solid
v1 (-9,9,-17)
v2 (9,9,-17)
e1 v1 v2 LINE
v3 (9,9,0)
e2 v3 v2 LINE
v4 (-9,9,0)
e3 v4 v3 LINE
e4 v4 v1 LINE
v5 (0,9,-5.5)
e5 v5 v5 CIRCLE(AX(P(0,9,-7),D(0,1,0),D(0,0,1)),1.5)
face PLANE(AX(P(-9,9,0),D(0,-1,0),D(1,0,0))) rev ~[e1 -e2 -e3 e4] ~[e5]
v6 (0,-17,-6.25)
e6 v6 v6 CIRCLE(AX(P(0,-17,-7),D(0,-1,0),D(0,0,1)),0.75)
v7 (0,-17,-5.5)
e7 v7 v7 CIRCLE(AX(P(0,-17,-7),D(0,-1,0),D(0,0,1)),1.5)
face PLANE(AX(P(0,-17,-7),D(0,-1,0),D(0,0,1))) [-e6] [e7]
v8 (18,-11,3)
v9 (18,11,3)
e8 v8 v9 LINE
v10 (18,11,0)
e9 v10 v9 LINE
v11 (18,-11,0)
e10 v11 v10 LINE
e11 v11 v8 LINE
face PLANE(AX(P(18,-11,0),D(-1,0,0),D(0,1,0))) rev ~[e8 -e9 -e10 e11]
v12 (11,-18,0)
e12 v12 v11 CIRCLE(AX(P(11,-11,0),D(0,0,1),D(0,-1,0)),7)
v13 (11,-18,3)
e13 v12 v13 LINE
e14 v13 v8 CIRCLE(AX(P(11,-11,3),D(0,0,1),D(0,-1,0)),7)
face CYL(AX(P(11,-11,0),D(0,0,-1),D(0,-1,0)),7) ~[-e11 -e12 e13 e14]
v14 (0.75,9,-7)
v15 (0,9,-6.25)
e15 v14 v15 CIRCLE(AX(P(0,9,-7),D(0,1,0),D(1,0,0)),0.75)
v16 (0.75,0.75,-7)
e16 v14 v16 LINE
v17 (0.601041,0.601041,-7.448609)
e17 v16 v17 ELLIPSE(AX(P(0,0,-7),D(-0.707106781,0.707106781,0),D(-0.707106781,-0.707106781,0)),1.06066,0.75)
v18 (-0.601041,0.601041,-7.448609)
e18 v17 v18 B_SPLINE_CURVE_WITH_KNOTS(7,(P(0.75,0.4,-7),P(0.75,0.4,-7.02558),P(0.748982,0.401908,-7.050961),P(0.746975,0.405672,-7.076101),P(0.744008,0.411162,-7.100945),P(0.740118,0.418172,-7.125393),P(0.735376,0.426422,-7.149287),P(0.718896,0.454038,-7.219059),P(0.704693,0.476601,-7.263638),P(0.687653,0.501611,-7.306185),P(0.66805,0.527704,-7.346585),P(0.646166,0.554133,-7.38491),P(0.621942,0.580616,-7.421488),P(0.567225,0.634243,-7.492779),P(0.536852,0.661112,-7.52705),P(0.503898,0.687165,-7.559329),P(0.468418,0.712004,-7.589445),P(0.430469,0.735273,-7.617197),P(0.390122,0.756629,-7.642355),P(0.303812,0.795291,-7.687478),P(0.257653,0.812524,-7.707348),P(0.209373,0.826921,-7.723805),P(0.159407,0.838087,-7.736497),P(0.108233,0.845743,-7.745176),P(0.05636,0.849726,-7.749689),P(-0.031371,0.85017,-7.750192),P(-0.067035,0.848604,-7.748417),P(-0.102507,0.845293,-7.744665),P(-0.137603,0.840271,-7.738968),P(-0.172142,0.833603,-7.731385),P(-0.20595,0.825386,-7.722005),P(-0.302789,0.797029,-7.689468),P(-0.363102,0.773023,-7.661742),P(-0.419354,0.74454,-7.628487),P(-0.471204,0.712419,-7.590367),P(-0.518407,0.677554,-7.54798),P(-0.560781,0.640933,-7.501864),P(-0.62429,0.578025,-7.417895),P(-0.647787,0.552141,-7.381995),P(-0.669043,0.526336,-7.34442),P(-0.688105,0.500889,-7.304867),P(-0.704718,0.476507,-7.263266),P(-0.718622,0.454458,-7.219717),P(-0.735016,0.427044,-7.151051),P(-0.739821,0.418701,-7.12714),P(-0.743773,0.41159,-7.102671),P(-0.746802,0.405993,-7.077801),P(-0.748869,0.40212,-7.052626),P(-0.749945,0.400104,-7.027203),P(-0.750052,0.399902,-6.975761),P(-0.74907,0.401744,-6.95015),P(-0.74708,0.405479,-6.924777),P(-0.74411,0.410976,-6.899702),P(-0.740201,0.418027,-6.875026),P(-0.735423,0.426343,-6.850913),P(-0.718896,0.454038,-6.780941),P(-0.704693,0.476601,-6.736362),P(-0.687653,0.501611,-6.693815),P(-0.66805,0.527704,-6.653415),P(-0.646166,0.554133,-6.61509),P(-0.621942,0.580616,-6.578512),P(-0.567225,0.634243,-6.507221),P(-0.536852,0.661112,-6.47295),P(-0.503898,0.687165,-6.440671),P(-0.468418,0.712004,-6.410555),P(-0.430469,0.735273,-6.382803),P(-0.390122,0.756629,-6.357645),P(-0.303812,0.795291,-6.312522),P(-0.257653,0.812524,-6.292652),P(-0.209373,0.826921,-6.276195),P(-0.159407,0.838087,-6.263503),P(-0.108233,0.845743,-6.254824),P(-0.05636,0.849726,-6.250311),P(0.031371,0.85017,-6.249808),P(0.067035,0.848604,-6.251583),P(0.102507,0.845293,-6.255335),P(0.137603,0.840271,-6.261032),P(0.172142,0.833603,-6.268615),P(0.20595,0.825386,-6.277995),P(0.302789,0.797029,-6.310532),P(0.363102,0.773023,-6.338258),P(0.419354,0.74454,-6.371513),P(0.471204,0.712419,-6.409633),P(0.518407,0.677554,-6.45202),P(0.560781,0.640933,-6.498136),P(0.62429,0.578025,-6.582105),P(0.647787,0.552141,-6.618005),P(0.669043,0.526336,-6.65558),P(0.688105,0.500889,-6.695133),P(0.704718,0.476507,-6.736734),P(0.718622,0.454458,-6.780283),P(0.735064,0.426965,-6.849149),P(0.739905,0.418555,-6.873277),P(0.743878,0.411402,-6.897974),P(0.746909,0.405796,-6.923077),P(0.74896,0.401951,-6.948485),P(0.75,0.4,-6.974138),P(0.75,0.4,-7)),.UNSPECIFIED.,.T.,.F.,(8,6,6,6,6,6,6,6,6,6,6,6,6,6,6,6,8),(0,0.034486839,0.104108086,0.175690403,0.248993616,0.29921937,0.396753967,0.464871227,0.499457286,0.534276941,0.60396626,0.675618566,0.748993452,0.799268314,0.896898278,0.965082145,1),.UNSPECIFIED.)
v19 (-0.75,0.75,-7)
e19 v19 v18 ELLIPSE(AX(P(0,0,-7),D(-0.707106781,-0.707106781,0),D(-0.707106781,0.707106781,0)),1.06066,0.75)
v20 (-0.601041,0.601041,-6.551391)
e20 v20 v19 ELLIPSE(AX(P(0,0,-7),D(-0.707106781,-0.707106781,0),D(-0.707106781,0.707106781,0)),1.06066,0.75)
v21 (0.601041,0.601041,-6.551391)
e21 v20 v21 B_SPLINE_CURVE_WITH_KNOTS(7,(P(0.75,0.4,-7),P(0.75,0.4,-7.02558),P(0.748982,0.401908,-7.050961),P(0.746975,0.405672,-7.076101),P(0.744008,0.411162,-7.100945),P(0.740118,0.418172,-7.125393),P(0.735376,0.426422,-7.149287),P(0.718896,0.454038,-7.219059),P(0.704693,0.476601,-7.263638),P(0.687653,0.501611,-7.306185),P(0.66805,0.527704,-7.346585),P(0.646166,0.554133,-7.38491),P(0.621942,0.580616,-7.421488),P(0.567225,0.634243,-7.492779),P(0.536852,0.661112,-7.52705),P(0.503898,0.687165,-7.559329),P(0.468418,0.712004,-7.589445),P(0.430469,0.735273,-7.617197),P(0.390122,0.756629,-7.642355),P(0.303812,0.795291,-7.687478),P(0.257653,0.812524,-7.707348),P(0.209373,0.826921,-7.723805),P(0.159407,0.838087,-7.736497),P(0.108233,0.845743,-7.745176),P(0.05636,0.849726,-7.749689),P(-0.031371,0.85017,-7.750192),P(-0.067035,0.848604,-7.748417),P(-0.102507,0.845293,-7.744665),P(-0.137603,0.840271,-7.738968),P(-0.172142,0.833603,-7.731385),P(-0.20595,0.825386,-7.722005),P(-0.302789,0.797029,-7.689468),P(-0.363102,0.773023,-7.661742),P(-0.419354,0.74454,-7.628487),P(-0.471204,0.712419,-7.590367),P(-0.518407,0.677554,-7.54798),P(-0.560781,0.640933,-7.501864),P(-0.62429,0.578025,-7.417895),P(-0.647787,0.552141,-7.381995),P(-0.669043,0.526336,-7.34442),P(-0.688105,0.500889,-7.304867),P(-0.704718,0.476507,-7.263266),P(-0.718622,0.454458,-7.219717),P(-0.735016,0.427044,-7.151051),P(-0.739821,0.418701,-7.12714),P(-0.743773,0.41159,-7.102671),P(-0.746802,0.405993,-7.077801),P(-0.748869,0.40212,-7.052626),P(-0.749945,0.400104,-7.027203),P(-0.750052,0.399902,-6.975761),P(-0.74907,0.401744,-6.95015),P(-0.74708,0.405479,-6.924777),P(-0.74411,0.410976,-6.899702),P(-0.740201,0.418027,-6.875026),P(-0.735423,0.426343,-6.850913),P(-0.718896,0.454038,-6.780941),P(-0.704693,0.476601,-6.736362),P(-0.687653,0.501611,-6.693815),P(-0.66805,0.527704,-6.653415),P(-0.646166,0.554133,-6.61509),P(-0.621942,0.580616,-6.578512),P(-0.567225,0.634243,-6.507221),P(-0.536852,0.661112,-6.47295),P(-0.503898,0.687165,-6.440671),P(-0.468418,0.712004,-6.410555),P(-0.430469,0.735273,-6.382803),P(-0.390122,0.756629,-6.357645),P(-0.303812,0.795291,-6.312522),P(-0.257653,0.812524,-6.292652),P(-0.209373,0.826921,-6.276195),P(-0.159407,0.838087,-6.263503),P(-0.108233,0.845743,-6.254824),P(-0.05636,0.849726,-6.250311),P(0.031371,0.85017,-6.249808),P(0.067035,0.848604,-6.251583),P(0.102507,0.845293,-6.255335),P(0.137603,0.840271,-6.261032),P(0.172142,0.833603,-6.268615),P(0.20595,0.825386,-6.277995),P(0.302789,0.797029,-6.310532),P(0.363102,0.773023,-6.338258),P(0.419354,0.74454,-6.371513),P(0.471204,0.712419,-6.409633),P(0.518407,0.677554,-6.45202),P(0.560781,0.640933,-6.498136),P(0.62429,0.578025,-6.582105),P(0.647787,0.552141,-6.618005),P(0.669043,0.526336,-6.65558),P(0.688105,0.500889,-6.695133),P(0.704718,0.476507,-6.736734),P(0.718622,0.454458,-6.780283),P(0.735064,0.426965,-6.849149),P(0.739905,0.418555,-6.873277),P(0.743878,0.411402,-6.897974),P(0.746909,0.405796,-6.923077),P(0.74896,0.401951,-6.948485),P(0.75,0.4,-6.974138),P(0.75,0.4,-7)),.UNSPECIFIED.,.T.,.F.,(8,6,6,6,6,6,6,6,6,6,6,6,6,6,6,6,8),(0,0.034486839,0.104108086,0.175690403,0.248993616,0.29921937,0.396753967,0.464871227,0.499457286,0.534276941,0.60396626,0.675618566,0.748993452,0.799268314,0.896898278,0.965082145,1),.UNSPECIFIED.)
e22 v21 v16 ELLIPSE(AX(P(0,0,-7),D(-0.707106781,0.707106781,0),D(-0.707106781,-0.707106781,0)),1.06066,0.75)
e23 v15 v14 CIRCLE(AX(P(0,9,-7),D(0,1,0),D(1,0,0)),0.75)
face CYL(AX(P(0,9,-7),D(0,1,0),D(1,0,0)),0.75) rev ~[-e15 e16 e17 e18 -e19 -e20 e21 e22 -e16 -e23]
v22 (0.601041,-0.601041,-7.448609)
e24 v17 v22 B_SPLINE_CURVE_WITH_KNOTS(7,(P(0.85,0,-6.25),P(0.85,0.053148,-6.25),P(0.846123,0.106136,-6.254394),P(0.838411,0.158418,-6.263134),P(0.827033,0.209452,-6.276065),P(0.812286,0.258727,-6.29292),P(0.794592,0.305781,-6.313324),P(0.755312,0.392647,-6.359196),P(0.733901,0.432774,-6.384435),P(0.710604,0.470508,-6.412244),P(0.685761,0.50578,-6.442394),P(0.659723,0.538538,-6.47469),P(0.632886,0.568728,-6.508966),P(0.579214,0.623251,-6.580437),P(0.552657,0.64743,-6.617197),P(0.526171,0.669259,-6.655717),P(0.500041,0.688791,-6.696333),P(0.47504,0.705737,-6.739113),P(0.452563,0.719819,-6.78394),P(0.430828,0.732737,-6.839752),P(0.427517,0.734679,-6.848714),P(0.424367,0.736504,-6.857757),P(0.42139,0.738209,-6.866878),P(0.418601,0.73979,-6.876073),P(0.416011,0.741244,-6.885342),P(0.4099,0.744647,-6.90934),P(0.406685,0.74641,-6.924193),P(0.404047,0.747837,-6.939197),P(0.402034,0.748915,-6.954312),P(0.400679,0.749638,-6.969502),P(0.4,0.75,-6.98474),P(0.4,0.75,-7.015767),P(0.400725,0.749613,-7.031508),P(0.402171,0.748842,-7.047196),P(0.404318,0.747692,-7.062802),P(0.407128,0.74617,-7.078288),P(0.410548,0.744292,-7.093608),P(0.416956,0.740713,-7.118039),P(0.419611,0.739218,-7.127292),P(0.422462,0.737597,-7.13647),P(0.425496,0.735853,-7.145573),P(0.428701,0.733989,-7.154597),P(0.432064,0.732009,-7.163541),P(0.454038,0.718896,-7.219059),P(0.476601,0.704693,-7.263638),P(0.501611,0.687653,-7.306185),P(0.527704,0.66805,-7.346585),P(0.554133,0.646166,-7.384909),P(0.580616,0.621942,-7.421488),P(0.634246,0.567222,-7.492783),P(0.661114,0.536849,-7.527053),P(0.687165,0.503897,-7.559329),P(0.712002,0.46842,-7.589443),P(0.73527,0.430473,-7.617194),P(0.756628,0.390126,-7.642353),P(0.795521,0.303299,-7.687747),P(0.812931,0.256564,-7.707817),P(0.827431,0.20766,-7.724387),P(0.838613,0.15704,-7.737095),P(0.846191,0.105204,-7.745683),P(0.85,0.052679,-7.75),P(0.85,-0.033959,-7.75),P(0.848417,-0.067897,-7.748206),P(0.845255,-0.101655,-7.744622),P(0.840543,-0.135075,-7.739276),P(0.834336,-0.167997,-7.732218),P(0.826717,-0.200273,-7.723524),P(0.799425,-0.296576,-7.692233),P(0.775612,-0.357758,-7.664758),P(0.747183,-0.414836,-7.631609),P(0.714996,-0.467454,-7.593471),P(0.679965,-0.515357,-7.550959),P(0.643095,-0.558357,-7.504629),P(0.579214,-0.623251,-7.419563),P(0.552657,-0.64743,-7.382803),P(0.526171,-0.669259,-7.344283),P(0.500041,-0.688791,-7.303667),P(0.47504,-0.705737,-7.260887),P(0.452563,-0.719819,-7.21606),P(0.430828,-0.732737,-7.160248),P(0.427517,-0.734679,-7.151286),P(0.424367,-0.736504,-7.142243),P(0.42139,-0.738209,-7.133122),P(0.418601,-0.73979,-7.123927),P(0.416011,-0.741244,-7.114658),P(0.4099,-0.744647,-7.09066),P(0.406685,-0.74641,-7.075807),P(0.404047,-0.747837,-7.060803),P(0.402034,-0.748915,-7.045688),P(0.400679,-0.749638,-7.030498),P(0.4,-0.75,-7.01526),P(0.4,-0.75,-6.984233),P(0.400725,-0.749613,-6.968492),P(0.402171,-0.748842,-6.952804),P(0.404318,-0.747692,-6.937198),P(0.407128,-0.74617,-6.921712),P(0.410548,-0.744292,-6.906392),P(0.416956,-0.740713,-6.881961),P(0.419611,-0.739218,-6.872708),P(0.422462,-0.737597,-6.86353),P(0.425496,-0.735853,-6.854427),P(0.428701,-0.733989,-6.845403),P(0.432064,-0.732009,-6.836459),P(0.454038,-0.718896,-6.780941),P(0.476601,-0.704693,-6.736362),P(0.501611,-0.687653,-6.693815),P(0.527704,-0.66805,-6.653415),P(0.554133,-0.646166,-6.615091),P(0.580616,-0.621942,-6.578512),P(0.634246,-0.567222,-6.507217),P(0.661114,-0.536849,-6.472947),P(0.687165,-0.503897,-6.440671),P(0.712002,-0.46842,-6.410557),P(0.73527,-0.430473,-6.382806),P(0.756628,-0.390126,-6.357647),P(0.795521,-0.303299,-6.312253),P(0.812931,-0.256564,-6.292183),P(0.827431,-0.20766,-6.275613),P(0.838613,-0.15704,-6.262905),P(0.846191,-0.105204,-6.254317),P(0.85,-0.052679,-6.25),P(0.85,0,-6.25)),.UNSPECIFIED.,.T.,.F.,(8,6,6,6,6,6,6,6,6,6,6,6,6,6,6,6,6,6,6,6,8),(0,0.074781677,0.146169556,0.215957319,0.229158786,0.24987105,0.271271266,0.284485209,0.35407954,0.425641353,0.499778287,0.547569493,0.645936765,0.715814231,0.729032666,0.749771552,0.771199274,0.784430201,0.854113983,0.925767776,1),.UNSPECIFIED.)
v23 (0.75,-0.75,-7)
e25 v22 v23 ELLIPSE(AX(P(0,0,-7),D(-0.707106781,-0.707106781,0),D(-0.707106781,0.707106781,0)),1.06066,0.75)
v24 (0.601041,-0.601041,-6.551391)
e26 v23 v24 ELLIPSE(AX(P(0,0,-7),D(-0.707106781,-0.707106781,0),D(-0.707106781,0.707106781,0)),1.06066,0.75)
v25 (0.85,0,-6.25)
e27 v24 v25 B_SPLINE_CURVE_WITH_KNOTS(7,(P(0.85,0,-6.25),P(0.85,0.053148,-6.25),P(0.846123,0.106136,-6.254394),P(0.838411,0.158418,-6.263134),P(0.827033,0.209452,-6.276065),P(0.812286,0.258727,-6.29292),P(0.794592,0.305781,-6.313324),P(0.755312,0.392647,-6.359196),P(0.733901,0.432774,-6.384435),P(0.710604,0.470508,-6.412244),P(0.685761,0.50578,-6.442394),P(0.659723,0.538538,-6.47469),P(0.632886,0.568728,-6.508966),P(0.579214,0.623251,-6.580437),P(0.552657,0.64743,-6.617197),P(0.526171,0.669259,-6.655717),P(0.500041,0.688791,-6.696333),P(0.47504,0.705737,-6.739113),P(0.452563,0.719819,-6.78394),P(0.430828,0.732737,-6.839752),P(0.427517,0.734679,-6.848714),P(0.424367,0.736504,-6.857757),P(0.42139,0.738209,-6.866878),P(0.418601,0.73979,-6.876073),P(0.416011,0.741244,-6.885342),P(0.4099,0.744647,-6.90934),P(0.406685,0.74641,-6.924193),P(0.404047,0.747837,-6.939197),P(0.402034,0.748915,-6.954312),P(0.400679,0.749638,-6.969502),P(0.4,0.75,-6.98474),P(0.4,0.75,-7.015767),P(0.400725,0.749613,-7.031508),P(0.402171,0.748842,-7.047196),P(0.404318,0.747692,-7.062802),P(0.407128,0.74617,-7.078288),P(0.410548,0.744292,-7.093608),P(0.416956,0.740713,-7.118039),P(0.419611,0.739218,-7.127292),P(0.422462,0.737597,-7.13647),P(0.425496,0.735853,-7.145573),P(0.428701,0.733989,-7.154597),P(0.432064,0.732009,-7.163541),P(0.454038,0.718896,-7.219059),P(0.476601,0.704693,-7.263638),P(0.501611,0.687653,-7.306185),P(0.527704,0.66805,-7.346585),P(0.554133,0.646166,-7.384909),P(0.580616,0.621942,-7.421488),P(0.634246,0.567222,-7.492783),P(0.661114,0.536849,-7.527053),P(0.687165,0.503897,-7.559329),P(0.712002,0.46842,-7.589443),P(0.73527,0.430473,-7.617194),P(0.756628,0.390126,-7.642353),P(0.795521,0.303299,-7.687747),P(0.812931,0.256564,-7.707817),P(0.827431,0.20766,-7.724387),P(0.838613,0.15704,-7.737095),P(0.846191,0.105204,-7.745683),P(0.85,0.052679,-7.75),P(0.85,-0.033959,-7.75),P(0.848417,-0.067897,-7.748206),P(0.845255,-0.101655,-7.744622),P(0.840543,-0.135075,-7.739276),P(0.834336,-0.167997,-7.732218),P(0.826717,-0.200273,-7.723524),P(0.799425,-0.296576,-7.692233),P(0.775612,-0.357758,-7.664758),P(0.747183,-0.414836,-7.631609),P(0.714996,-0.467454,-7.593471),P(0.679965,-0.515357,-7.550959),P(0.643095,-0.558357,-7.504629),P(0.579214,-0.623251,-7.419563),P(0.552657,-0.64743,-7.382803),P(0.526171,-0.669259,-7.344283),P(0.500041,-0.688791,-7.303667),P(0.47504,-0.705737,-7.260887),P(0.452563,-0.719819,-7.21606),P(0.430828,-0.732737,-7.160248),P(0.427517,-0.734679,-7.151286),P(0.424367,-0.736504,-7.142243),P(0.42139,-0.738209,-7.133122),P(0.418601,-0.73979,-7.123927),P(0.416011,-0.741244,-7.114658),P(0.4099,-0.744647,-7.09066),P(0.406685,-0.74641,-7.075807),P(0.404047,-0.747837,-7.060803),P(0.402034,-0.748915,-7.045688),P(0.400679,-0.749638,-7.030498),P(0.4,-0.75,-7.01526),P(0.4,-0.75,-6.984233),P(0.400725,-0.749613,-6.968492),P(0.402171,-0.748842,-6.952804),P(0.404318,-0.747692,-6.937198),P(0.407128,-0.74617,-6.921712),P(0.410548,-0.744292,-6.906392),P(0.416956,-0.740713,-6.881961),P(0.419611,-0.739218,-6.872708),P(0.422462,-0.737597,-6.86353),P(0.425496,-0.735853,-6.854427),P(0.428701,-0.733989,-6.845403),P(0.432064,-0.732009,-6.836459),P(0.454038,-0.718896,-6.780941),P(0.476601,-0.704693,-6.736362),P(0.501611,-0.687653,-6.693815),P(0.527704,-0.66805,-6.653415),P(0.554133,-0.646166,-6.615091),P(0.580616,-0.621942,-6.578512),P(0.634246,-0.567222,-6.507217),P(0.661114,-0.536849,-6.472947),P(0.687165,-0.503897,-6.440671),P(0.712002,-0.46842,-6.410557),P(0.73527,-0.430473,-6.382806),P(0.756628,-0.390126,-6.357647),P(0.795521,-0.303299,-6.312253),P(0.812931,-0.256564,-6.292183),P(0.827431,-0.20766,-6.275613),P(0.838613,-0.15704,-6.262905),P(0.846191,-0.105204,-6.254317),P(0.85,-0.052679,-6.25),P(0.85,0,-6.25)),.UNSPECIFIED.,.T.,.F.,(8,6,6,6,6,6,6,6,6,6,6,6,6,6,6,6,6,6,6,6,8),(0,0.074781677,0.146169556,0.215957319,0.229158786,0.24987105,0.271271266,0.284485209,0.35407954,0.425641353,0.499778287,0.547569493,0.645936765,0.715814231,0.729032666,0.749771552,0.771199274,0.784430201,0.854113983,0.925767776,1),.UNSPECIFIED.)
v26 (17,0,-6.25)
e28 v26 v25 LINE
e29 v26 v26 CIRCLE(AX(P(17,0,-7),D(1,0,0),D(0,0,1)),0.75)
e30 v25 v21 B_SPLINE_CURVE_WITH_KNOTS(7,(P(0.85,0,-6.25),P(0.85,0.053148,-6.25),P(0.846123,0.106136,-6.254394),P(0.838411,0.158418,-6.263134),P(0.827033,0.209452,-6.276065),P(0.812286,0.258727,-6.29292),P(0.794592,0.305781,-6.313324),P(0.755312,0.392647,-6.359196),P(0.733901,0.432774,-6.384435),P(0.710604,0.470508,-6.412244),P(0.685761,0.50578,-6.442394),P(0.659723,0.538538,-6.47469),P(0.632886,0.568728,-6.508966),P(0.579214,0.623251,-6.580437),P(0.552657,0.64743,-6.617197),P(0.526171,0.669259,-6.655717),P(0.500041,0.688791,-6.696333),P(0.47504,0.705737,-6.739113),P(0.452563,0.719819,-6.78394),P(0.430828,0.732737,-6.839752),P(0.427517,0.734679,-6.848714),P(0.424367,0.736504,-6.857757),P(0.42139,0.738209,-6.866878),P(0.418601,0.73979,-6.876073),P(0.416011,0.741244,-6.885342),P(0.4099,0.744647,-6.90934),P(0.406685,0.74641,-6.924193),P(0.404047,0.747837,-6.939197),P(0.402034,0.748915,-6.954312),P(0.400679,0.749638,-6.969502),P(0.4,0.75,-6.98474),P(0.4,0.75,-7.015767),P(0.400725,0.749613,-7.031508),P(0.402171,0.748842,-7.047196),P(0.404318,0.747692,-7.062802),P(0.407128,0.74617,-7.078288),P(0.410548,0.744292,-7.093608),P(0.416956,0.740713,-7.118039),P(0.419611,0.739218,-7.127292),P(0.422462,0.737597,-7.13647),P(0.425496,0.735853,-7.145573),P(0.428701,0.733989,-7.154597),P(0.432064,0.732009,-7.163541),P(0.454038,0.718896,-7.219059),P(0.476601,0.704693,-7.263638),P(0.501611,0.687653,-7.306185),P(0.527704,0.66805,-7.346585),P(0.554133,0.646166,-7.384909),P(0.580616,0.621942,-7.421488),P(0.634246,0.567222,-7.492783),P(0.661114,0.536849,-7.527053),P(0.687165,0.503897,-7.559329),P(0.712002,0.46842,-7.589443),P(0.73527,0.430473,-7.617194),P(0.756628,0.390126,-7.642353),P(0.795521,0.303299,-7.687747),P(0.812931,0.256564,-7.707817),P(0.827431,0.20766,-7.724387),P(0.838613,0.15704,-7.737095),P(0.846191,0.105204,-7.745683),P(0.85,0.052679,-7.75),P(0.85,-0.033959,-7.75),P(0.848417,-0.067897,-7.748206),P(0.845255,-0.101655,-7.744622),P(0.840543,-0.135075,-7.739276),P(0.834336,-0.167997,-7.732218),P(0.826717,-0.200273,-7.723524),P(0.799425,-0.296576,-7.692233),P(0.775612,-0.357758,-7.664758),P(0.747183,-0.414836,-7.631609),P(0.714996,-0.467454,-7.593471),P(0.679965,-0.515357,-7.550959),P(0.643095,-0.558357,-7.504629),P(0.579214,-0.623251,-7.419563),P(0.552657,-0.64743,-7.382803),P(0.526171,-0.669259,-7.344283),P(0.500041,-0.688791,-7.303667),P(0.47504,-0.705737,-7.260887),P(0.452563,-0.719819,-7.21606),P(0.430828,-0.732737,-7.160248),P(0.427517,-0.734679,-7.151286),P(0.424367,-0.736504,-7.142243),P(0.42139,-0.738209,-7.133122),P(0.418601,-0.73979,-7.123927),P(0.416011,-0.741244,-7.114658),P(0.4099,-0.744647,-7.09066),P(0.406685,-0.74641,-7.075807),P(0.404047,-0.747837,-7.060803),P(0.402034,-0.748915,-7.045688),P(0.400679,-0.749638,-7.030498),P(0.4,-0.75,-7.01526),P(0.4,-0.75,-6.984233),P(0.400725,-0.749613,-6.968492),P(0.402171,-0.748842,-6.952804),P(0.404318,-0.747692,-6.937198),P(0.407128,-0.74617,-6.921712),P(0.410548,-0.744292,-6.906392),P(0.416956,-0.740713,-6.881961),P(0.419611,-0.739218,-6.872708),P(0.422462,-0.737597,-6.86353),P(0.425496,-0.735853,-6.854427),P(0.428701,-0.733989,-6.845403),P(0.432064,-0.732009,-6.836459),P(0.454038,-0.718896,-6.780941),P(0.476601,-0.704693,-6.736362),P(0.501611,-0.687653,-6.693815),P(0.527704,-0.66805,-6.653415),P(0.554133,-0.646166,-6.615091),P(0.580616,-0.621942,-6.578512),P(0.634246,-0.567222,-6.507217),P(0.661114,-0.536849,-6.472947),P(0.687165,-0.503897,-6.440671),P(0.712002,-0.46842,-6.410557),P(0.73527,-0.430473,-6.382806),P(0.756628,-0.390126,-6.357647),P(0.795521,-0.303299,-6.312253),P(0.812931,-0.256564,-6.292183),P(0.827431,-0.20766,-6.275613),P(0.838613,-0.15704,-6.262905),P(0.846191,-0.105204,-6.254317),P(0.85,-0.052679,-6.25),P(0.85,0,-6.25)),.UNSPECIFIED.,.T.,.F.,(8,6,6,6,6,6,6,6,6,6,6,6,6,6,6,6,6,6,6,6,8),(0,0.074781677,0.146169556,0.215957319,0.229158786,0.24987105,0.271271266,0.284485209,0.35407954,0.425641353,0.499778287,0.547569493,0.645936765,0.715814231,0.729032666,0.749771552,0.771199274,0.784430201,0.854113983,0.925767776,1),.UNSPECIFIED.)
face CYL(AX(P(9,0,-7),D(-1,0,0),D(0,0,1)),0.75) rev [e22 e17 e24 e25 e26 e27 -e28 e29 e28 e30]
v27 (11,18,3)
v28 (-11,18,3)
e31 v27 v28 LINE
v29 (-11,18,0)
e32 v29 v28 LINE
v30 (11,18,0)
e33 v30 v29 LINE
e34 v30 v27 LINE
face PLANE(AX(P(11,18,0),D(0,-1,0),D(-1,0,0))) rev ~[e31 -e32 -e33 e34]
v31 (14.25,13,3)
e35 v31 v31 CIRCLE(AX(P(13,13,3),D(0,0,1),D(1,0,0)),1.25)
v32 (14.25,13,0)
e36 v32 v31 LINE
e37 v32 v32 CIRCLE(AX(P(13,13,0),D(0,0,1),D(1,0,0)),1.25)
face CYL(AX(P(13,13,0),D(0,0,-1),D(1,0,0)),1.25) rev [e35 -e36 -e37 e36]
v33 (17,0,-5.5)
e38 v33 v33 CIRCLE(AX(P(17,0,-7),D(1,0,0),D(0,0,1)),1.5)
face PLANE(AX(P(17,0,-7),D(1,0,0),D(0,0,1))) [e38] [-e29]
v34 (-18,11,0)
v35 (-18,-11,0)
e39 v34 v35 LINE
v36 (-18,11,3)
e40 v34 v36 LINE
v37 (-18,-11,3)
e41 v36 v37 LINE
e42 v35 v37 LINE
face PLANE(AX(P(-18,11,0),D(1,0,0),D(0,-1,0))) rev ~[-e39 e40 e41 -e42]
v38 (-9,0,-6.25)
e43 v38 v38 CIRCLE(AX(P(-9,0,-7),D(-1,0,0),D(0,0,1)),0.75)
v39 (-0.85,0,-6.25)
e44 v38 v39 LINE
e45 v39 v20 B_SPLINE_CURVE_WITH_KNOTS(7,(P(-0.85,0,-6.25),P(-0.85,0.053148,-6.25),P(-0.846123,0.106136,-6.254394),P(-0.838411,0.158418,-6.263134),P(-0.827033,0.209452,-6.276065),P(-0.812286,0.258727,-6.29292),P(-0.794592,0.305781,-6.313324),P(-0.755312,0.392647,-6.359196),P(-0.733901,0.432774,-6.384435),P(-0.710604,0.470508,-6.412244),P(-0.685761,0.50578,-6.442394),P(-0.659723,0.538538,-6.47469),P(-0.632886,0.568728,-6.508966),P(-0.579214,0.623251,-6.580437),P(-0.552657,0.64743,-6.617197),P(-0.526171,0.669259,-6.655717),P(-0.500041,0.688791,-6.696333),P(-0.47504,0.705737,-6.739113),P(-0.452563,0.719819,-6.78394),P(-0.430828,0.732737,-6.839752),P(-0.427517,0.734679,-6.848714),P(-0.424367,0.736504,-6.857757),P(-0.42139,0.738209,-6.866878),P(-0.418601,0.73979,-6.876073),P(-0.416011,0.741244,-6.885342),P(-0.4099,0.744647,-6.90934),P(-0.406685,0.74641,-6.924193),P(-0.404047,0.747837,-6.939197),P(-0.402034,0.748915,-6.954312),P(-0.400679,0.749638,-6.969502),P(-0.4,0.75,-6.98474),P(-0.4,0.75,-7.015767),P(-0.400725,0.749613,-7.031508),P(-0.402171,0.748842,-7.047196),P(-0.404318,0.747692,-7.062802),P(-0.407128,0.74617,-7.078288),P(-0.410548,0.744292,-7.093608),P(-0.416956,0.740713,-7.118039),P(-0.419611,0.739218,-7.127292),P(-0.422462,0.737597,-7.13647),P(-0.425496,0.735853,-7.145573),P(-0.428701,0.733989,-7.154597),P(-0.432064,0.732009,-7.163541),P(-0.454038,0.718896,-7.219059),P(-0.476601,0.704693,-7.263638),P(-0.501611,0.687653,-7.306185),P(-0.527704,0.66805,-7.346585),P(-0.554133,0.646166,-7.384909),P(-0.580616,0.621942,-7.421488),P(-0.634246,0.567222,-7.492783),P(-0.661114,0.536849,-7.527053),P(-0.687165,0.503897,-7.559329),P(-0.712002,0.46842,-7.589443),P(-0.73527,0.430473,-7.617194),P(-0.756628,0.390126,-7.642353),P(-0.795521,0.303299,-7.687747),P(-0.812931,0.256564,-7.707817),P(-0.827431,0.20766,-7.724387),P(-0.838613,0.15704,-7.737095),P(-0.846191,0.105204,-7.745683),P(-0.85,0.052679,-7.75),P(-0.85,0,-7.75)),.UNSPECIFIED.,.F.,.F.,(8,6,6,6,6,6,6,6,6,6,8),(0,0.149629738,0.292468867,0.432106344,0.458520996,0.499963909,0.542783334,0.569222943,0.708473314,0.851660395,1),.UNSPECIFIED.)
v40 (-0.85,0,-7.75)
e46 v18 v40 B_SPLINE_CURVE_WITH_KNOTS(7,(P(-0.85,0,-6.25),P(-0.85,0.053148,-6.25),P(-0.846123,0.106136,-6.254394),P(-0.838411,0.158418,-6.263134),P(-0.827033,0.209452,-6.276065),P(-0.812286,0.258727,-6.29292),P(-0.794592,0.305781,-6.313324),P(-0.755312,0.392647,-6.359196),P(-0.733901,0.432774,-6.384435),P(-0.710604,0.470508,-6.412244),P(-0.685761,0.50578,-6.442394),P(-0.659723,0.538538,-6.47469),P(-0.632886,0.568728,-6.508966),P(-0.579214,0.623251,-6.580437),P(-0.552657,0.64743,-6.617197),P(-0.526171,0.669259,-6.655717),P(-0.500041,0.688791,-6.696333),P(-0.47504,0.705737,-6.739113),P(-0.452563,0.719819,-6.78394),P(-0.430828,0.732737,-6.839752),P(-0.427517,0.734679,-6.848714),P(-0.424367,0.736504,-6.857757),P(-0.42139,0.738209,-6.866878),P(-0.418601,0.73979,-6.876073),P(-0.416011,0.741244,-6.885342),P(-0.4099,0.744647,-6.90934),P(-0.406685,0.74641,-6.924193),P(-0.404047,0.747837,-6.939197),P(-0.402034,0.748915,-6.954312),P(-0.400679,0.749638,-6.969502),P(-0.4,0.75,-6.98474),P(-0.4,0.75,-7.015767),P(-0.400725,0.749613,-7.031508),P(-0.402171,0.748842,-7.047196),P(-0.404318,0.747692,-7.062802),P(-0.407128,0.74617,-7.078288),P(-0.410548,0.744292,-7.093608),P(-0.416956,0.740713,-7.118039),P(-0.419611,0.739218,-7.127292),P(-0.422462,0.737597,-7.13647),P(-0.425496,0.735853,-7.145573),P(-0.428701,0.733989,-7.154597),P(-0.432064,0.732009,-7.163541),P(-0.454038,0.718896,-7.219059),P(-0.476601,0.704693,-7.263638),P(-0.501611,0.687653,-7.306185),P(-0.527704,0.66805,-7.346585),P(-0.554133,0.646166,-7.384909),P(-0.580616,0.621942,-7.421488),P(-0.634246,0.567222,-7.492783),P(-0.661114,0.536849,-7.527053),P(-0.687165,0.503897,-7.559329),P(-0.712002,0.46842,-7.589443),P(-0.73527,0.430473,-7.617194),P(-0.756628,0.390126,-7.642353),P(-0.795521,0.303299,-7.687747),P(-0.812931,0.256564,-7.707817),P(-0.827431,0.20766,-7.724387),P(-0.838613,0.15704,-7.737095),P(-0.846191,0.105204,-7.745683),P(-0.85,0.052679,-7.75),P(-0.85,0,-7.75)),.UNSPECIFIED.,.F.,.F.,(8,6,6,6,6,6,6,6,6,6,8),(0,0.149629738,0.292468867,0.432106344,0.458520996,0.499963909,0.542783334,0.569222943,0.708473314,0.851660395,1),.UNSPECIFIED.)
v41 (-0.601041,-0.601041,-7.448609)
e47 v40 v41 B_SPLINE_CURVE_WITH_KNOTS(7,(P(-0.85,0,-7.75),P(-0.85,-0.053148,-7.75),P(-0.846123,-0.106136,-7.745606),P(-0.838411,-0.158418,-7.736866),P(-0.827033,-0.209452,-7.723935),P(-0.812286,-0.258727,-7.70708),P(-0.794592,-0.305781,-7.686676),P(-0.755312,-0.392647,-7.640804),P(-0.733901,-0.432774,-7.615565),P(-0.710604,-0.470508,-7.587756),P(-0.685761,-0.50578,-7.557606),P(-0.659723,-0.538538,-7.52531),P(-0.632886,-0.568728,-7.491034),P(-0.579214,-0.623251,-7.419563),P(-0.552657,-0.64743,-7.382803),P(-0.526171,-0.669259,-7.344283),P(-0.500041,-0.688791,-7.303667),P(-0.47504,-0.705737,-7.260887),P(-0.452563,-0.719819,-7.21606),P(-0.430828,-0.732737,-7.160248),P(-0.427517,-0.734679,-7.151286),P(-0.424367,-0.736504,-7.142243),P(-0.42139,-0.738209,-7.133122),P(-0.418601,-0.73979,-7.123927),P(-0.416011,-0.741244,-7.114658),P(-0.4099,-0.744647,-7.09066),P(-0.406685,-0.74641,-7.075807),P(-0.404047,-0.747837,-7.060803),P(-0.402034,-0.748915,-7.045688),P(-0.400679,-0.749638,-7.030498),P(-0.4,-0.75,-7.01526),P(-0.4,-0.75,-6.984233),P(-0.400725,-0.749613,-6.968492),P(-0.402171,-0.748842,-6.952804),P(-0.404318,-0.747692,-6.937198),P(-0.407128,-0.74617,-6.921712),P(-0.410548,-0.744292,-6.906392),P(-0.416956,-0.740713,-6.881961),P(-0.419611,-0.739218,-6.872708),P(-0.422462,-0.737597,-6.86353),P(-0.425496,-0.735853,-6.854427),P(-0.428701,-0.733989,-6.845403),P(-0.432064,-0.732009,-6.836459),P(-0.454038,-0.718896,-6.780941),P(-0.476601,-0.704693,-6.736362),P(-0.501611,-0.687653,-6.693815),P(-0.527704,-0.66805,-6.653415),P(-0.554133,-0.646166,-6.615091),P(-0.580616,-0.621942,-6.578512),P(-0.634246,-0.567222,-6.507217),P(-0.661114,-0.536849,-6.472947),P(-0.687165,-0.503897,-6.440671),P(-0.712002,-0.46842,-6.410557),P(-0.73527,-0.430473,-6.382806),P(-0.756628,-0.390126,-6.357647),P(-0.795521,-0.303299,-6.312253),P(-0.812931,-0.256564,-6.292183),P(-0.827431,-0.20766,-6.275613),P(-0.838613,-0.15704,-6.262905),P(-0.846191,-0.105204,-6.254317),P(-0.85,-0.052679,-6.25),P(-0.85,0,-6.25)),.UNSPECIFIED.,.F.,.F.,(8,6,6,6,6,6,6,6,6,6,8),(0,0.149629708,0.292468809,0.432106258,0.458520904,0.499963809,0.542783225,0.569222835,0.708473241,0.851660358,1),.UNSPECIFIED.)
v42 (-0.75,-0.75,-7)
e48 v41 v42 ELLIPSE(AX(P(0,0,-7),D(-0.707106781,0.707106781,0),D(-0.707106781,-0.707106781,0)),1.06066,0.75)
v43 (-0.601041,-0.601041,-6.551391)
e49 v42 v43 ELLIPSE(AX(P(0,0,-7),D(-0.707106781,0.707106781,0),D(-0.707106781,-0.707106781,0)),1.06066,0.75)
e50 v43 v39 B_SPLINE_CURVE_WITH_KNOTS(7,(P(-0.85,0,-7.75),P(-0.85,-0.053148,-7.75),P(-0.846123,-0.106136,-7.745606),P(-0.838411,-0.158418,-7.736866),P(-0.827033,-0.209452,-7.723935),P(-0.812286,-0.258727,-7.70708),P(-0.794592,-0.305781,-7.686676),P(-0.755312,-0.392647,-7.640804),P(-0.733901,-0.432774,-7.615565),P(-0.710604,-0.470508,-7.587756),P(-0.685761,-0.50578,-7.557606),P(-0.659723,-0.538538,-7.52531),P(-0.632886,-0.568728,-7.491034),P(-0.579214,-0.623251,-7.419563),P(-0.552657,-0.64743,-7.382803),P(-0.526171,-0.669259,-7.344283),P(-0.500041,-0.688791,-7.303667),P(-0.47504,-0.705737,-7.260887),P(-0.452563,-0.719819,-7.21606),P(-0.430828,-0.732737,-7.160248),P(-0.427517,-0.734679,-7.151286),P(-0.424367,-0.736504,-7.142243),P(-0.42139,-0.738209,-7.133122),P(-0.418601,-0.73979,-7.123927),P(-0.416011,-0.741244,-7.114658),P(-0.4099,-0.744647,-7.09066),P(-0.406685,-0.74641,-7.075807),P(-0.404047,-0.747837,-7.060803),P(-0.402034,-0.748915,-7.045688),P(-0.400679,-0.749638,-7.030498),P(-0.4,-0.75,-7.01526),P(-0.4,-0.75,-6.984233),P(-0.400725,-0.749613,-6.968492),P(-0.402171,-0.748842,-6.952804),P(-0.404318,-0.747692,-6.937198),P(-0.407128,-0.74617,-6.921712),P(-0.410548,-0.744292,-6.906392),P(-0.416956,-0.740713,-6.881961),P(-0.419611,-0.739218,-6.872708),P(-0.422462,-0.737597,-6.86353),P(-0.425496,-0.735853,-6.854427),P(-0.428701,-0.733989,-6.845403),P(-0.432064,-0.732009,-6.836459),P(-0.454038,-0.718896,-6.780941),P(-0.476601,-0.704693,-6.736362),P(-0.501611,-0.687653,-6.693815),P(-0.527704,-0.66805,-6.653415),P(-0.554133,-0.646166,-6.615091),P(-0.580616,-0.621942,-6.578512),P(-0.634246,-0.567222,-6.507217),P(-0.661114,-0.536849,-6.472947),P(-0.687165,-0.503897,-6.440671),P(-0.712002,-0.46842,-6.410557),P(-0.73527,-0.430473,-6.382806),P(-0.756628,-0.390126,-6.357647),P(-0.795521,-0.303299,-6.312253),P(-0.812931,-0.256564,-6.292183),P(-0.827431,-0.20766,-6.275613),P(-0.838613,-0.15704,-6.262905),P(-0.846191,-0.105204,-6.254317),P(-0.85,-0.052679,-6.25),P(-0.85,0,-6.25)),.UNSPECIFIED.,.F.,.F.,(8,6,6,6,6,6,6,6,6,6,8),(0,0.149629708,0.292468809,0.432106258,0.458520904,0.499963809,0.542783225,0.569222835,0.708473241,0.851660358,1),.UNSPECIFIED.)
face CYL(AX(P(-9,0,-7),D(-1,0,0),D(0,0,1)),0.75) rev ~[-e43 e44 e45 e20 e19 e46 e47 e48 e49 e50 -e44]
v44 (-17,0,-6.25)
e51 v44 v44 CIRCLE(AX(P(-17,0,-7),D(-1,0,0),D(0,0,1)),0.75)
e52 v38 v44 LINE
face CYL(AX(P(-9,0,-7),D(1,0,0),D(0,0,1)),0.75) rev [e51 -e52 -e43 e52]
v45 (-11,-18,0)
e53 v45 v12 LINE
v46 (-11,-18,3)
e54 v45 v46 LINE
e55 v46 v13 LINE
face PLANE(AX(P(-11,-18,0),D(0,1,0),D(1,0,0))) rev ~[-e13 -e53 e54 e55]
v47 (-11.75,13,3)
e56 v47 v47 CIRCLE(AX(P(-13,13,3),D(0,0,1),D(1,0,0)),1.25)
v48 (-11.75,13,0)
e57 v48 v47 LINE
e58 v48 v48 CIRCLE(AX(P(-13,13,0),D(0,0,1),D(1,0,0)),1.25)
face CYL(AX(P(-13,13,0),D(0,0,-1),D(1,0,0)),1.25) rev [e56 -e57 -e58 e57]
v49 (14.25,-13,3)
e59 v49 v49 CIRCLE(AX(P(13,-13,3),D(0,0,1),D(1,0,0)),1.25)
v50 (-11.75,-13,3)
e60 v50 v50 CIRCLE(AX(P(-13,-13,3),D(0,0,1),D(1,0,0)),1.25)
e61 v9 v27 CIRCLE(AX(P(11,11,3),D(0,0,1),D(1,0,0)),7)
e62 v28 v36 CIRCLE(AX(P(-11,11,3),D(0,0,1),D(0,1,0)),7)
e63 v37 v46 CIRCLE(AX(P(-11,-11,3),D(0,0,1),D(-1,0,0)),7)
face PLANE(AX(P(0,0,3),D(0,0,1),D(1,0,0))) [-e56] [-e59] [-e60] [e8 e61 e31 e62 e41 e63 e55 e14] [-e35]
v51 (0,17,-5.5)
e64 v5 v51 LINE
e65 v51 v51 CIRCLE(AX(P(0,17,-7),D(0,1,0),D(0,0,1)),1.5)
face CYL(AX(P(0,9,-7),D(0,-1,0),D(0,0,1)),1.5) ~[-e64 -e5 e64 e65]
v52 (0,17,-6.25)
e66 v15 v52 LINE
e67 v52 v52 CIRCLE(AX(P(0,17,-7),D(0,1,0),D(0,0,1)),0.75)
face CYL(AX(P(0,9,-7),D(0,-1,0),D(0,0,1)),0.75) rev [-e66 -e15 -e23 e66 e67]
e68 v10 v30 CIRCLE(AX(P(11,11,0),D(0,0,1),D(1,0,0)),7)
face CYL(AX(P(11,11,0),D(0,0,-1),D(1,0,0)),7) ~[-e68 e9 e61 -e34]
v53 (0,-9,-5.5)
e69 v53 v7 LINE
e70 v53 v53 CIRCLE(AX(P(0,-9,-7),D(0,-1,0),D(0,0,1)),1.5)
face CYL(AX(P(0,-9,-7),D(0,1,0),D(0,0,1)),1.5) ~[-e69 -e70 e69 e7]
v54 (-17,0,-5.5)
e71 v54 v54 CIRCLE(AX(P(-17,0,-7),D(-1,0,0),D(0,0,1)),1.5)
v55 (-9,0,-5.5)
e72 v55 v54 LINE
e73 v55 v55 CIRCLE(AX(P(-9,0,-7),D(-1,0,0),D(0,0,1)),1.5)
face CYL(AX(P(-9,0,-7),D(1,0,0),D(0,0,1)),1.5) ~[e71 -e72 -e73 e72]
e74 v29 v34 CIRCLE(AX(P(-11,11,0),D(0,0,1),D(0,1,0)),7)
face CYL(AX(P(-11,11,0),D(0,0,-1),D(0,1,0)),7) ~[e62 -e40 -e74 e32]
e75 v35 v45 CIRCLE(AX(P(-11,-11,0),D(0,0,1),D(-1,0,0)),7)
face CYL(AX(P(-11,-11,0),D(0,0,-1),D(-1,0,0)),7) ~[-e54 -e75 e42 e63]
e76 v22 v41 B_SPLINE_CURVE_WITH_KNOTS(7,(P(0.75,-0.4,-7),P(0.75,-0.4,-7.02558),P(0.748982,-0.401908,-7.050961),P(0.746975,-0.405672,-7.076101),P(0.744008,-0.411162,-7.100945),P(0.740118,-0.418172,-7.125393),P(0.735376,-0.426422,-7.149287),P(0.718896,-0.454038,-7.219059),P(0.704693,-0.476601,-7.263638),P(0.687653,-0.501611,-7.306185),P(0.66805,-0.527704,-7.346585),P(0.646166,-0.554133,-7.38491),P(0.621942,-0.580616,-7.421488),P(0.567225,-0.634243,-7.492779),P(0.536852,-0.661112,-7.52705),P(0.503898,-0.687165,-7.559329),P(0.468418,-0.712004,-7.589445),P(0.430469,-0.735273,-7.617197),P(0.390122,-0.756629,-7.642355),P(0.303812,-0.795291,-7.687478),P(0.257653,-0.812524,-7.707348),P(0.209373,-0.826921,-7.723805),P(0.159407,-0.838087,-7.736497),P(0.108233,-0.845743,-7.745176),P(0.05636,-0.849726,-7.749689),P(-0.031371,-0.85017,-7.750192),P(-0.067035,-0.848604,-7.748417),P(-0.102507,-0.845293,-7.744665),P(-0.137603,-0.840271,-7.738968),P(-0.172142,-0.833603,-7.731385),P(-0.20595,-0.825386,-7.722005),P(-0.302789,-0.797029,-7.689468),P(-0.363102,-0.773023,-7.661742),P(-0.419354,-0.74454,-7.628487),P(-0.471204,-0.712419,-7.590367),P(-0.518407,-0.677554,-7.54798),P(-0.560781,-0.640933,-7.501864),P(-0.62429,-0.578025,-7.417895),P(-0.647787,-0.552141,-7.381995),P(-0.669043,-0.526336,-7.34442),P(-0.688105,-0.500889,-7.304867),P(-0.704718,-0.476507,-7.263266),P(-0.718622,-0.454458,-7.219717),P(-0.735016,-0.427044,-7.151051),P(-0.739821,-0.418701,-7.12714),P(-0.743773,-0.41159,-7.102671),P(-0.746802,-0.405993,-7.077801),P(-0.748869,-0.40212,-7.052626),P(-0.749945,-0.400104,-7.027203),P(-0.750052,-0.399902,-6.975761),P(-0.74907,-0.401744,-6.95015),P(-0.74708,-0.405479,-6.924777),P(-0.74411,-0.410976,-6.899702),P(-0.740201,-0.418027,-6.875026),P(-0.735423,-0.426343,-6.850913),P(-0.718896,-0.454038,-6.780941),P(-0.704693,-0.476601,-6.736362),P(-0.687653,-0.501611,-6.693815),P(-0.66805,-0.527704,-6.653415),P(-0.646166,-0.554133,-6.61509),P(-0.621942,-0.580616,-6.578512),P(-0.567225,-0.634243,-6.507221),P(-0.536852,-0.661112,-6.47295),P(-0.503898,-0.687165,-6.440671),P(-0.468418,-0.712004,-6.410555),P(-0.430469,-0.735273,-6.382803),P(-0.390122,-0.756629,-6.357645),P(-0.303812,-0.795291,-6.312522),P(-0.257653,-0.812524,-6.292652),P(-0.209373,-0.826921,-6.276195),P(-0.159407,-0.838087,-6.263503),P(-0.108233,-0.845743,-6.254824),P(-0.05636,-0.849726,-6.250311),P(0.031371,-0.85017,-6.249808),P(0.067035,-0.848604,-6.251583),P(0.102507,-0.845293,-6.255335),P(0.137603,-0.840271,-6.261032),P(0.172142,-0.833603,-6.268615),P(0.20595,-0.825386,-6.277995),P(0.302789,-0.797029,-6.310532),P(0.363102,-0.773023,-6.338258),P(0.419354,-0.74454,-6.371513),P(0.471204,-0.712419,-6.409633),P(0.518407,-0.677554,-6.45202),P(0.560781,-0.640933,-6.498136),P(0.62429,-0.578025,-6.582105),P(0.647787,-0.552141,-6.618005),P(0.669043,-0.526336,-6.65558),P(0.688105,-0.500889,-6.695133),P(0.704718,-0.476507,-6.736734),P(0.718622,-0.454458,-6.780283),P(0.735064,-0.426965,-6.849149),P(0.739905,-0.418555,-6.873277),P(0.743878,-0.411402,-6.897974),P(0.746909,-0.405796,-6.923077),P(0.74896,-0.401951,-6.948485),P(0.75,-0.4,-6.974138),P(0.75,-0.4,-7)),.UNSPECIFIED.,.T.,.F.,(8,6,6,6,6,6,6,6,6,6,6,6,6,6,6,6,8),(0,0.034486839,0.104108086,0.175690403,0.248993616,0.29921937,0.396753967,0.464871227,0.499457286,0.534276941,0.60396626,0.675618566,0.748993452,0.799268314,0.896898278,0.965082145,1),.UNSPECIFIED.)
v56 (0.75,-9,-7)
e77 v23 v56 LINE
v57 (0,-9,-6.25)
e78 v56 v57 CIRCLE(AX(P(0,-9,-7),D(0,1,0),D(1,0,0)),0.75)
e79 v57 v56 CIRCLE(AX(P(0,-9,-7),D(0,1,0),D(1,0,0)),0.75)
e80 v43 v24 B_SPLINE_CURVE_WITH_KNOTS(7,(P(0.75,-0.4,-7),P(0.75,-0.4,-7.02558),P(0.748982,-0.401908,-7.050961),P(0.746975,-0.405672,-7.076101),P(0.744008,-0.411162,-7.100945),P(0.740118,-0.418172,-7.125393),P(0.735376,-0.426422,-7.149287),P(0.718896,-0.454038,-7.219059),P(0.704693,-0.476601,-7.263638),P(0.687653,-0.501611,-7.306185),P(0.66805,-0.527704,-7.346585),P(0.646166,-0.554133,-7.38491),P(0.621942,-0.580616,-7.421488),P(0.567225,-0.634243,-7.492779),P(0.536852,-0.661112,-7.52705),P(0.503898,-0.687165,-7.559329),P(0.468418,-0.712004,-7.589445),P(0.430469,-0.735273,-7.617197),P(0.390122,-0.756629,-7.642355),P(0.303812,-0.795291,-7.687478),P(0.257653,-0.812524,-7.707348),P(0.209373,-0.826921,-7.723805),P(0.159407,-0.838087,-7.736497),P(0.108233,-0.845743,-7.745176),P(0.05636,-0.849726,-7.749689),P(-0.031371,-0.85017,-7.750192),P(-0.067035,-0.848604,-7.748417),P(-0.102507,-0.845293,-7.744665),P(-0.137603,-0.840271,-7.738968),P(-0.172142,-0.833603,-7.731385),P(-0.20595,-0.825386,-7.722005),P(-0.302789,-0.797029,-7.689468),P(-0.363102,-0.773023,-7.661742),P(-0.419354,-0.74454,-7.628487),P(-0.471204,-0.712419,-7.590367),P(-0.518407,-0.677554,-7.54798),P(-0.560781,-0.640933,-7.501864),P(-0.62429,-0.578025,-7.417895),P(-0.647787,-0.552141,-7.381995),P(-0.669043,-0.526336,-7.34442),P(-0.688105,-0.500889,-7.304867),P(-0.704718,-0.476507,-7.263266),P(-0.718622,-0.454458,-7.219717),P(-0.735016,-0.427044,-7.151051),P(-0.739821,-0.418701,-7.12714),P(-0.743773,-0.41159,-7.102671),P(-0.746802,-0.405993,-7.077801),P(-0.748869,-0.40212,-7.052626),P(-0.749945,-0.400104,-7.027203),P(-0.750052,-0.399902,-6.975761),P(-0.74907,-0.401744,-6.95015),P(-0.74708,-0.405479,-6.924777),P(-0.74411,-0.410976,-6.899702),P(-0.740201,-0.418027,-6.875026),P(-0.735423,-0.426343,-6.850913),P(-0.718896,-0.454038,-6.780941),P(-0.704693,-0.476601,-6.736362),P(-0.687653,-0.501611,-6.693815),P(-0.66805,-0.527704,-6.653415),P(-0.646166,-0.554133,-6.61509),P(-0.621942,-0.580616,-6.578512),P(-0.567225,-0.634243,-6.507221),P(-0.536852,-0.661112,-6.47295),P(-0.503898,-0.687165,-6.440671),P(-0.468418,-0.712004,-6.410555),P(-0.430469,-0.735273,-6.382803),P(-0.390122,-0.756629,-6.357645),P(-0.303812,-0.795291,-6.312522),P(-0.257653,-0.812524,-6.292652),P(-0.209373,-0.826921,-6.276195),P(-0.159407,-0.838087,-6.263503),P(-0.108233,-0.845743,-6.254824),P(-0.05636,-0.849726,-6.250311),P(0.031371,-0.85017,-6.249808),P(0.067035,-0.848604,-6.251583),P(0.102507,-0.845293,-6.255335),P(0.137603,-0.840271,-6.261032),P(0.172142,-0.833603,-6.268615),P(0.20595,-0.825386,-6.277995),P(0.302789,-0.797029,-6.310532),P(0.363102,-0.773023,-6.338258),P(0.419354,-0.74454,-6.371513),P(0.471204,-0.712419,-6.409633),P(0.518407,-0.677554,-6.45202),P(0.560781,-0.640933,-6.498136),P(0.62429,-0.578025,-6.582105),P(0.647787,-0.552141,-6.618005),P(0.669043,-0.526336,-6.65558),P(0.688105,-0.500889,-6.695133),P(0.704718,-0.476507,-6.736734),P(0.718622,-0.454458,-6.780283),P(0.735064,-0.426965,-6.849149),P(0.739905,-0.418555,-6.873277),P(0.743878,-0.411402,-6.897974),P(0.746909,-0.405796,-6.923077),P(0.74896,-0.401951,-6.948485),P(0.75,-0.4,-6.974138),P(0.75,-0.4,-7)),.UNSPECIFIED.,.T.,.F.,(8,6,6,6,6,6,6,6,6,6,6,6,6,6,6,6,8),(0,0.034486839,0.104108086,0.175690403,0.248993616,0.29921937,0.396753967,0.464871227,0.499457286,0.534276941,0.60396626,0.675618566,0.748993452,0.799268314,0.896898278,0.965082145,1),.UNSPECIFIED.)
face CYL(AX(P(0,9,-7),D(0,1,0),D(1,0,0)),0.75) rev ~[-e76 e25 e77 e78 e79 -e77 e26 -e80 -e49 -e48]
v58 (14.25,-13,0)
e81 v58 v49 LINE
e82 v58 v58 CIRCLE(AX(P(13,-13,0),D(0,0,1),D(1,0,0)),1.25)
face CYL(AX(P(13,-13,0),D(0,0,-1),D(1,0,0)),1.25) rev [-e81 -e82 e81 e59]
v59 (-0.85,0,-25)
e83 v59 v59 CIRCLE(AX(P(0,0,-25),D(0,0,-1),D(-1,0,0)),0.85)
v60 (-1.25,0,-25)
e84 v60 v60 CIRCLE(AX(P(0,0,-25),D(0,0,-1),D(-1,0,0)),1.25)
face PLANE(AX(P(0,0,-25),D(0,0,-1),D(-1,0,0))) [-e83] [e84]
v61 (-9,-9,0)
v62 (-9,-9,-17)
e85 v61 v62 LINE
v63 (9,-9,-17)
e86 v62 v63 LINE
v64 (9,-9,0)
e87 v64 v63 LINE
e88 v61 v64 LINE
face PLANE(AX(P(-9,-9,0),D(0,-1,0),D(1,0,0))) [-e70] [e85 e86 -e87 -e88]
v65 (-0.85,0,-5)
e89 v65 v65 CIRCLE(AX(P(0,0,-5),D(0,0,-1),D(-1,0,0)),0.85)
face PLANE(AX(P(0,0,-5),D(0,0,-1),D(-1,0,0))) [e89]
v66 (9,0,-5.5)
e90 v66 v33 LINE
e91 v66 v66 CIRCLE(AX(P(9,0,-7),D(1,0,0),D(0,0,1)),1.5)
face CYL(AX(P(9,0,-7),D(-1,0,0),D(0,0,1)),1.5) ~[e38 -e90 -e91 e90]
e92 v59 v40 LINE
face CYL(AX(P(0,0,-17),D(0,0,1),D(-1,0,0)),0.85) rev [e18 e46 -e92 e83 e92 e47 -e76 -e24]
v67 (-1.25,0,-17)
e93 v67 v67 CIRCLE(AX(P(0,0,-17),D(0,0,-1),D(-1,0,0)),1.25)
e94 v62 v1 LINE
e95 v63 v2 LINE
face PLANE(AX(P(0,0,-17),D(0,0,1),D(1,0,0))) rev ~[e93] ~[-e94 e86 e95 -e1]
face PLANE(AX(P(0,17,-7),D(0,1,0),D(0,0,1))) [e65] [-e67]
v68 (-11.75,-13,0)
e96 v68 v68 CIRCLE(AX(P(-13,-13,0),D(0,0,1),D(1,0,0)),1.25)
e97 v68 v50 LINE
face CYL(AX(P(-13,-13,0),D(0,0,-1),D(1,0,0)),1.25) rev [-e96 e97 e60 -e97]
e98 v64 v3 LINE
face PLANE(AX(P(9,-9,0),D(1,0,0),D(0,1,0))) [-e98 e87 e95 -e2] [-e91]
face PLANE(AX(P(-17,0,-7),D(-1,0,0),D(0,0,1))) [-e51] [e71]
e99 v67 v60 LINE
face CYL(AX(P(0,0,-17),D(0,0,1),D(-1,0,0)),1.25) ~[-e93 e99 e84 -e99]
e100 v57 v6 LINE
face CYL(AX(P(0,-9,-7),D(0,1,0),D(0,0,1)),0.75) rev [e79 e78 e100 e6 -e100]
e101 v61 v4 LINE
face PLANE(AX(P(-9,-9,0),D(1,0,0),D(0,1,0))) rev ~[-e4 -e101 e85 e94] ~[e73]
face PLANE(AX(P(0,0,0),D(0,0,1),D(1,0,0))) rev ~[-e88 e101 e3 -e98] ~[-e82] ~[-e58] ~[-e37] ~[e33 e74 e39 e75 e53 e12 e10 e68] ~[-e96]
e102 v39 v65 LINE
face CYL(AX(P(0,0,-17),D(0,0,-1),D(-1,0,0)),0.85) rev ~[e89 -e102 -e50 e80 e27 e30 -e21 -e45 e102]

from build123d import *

# Parameters (mm, degrees)
SKETCH_1_R               = 1.25
EXTRUDE_3_DEPTH          = 3
SKETCH_2_W               = 18
SKETCH_2_H               = 18
EXTRUDE_4_DEPTH          = 17
SKETCH_3_R               = 0.85
CUT_EXTRUDE_2_DEPTH      = 12
SKETCH_4_R               = 0.75
CUT_EXTRUDE_4_DEPTH      = 18
SKETCH_5_R               = 0.75
CUT_EXTRUDE_5_DEPTH      = 18
SKETCH_6_R               = 1.5
SKETCH_6_R_2             = 0.75
EXTRUDE_7_DEPTH          = 8
SKETCH_10_R              = 1.25
SKETCH_10_R_2            = 0.85
EXTRUDE_13_DEPTH         = 8
PATTERN_CIRCULAR_1_COUNT = 4


with BuildPart() as part:
    # 草图1 → 凸台-拉伸3 (new body)
    with BuildSketch(Plane.XY):
        with BuildLine():
            Line((-11, -18), (11, -18))
            ThreePointArc((11, -18), (15.949747468, -15.949747468), (18, -11))
            Line((18, -11), (18, 11))
            ThreePointArc((18, 11), (15.949747468, 15.949747468), (11, 18))
            Line((11, 18), (-11, 18))
            ThreePointArc((-11, 18), (-15.949747468, 15.949747468), (-18, 11))
            Line((-18, 11), (-18, -11))
            ThreePointArc((-18, -11), (-15.949747468, -15.949747468), (-11, -18))
        make_face()
        with Locations((13, 13)):
            Circle(SKETCH_1_R, mode=Mode.SUBTRACT)
        with Locations((-13, 13)):
            Circle(SKETCH_1_R, mode=Mode.SUBTRACT)
        with Locations((-13, -13)):
            Circle(SKETCH_1_R, mode=Mode.SUBTRACT)
        with Locations((13, -13)):
            Circle(SKETCH_1_R, mode=Mode.SUBTRACT)
    extrude(amount=EXTRUDE_3_DEPTH)

    # 草图2 → 凸台-拉伸4 (add)
    with BuildSketch(Plane.XY):
        Rectangle(SKETCH_2_W, SKETCH_2_H)
    extrude(amount=-EXTRUDE_4_DEPTH)

    # 草图3 → 切除-拉伸2 (cut)
    with BuildSketch(Plane(origin=(0, 0, -17), x_dir=(-1, 0, 0), z_dir=(0, 0, -1))):
        Circle(SKETCH_3_R)
    extrude(amount=-CUT_EXTRUDE_2_DEPTH, mode=Mode.SUBTRACT)

    # 草图4 → 切除-拉伸4 (cut)
    with BuildSketch(Plane.ZY.offset(9)):
        with Locations((-7, 0)):
            Circle(SKETCH_4_R)
    extrude(amount=-CUT_EXTRUDE_4_DEPTH, mode=Mode.SUBTRACT)

    # 草图5 → 切除-拉伸5 (cut)
    with BuildSketch(Plane(origin=(0, 9, 0), x_dir=(1, 0, 0), z_dir=(0, 1, 0))):
        with Locations((0, 7)):
            Circle(SKETCH_5_R)
    extrude(amount=-CUT_EXTRUDE_5_DEPTH, mode=Mode.SUBTRACT)

    # 草图6 → 凸台-拉伸7 (add)
    with BuildSketch(Plane.ZY.offset(9)):
        with Locations((-7, 0)):
            Circle(SKETCH_6_R)
        with Locations((-7, 0)):
            Circle(SKETCH_6_R_2, mode=Mode.SUBTRACT)
    extrude_7 = extrude(amount=EXTRUDE_7_DEPTH)

    # 草图10 → 凸台-拉伸13 (add)
    with BuildSketch(Plane(origin=(0, 0, -17), x_dir=(-1, 0, 0), z_dir=(0, 0, -1))):
        Circle(SKETCH_10_R)
        Circle(SKETCH_10_R_2, mode=Mode.SUBTRACT)
    extrude(amount=EXTRUDE_13_DEPTH)

    # 阵列(圆周)1: 凸台-拉伸7 ×4 about axis
    pattern_circular_1_axis = Axis((0, 0, 0), (0, 0, 1))
    for i in range(1, PATTERN_CIRCULAR_1_COUNT):
        add(extrude_7.rotate(pattern_circular_1_axis, i * 360 / PATTERN_CIRCULAR_1_COUNT))


solid = part.part
